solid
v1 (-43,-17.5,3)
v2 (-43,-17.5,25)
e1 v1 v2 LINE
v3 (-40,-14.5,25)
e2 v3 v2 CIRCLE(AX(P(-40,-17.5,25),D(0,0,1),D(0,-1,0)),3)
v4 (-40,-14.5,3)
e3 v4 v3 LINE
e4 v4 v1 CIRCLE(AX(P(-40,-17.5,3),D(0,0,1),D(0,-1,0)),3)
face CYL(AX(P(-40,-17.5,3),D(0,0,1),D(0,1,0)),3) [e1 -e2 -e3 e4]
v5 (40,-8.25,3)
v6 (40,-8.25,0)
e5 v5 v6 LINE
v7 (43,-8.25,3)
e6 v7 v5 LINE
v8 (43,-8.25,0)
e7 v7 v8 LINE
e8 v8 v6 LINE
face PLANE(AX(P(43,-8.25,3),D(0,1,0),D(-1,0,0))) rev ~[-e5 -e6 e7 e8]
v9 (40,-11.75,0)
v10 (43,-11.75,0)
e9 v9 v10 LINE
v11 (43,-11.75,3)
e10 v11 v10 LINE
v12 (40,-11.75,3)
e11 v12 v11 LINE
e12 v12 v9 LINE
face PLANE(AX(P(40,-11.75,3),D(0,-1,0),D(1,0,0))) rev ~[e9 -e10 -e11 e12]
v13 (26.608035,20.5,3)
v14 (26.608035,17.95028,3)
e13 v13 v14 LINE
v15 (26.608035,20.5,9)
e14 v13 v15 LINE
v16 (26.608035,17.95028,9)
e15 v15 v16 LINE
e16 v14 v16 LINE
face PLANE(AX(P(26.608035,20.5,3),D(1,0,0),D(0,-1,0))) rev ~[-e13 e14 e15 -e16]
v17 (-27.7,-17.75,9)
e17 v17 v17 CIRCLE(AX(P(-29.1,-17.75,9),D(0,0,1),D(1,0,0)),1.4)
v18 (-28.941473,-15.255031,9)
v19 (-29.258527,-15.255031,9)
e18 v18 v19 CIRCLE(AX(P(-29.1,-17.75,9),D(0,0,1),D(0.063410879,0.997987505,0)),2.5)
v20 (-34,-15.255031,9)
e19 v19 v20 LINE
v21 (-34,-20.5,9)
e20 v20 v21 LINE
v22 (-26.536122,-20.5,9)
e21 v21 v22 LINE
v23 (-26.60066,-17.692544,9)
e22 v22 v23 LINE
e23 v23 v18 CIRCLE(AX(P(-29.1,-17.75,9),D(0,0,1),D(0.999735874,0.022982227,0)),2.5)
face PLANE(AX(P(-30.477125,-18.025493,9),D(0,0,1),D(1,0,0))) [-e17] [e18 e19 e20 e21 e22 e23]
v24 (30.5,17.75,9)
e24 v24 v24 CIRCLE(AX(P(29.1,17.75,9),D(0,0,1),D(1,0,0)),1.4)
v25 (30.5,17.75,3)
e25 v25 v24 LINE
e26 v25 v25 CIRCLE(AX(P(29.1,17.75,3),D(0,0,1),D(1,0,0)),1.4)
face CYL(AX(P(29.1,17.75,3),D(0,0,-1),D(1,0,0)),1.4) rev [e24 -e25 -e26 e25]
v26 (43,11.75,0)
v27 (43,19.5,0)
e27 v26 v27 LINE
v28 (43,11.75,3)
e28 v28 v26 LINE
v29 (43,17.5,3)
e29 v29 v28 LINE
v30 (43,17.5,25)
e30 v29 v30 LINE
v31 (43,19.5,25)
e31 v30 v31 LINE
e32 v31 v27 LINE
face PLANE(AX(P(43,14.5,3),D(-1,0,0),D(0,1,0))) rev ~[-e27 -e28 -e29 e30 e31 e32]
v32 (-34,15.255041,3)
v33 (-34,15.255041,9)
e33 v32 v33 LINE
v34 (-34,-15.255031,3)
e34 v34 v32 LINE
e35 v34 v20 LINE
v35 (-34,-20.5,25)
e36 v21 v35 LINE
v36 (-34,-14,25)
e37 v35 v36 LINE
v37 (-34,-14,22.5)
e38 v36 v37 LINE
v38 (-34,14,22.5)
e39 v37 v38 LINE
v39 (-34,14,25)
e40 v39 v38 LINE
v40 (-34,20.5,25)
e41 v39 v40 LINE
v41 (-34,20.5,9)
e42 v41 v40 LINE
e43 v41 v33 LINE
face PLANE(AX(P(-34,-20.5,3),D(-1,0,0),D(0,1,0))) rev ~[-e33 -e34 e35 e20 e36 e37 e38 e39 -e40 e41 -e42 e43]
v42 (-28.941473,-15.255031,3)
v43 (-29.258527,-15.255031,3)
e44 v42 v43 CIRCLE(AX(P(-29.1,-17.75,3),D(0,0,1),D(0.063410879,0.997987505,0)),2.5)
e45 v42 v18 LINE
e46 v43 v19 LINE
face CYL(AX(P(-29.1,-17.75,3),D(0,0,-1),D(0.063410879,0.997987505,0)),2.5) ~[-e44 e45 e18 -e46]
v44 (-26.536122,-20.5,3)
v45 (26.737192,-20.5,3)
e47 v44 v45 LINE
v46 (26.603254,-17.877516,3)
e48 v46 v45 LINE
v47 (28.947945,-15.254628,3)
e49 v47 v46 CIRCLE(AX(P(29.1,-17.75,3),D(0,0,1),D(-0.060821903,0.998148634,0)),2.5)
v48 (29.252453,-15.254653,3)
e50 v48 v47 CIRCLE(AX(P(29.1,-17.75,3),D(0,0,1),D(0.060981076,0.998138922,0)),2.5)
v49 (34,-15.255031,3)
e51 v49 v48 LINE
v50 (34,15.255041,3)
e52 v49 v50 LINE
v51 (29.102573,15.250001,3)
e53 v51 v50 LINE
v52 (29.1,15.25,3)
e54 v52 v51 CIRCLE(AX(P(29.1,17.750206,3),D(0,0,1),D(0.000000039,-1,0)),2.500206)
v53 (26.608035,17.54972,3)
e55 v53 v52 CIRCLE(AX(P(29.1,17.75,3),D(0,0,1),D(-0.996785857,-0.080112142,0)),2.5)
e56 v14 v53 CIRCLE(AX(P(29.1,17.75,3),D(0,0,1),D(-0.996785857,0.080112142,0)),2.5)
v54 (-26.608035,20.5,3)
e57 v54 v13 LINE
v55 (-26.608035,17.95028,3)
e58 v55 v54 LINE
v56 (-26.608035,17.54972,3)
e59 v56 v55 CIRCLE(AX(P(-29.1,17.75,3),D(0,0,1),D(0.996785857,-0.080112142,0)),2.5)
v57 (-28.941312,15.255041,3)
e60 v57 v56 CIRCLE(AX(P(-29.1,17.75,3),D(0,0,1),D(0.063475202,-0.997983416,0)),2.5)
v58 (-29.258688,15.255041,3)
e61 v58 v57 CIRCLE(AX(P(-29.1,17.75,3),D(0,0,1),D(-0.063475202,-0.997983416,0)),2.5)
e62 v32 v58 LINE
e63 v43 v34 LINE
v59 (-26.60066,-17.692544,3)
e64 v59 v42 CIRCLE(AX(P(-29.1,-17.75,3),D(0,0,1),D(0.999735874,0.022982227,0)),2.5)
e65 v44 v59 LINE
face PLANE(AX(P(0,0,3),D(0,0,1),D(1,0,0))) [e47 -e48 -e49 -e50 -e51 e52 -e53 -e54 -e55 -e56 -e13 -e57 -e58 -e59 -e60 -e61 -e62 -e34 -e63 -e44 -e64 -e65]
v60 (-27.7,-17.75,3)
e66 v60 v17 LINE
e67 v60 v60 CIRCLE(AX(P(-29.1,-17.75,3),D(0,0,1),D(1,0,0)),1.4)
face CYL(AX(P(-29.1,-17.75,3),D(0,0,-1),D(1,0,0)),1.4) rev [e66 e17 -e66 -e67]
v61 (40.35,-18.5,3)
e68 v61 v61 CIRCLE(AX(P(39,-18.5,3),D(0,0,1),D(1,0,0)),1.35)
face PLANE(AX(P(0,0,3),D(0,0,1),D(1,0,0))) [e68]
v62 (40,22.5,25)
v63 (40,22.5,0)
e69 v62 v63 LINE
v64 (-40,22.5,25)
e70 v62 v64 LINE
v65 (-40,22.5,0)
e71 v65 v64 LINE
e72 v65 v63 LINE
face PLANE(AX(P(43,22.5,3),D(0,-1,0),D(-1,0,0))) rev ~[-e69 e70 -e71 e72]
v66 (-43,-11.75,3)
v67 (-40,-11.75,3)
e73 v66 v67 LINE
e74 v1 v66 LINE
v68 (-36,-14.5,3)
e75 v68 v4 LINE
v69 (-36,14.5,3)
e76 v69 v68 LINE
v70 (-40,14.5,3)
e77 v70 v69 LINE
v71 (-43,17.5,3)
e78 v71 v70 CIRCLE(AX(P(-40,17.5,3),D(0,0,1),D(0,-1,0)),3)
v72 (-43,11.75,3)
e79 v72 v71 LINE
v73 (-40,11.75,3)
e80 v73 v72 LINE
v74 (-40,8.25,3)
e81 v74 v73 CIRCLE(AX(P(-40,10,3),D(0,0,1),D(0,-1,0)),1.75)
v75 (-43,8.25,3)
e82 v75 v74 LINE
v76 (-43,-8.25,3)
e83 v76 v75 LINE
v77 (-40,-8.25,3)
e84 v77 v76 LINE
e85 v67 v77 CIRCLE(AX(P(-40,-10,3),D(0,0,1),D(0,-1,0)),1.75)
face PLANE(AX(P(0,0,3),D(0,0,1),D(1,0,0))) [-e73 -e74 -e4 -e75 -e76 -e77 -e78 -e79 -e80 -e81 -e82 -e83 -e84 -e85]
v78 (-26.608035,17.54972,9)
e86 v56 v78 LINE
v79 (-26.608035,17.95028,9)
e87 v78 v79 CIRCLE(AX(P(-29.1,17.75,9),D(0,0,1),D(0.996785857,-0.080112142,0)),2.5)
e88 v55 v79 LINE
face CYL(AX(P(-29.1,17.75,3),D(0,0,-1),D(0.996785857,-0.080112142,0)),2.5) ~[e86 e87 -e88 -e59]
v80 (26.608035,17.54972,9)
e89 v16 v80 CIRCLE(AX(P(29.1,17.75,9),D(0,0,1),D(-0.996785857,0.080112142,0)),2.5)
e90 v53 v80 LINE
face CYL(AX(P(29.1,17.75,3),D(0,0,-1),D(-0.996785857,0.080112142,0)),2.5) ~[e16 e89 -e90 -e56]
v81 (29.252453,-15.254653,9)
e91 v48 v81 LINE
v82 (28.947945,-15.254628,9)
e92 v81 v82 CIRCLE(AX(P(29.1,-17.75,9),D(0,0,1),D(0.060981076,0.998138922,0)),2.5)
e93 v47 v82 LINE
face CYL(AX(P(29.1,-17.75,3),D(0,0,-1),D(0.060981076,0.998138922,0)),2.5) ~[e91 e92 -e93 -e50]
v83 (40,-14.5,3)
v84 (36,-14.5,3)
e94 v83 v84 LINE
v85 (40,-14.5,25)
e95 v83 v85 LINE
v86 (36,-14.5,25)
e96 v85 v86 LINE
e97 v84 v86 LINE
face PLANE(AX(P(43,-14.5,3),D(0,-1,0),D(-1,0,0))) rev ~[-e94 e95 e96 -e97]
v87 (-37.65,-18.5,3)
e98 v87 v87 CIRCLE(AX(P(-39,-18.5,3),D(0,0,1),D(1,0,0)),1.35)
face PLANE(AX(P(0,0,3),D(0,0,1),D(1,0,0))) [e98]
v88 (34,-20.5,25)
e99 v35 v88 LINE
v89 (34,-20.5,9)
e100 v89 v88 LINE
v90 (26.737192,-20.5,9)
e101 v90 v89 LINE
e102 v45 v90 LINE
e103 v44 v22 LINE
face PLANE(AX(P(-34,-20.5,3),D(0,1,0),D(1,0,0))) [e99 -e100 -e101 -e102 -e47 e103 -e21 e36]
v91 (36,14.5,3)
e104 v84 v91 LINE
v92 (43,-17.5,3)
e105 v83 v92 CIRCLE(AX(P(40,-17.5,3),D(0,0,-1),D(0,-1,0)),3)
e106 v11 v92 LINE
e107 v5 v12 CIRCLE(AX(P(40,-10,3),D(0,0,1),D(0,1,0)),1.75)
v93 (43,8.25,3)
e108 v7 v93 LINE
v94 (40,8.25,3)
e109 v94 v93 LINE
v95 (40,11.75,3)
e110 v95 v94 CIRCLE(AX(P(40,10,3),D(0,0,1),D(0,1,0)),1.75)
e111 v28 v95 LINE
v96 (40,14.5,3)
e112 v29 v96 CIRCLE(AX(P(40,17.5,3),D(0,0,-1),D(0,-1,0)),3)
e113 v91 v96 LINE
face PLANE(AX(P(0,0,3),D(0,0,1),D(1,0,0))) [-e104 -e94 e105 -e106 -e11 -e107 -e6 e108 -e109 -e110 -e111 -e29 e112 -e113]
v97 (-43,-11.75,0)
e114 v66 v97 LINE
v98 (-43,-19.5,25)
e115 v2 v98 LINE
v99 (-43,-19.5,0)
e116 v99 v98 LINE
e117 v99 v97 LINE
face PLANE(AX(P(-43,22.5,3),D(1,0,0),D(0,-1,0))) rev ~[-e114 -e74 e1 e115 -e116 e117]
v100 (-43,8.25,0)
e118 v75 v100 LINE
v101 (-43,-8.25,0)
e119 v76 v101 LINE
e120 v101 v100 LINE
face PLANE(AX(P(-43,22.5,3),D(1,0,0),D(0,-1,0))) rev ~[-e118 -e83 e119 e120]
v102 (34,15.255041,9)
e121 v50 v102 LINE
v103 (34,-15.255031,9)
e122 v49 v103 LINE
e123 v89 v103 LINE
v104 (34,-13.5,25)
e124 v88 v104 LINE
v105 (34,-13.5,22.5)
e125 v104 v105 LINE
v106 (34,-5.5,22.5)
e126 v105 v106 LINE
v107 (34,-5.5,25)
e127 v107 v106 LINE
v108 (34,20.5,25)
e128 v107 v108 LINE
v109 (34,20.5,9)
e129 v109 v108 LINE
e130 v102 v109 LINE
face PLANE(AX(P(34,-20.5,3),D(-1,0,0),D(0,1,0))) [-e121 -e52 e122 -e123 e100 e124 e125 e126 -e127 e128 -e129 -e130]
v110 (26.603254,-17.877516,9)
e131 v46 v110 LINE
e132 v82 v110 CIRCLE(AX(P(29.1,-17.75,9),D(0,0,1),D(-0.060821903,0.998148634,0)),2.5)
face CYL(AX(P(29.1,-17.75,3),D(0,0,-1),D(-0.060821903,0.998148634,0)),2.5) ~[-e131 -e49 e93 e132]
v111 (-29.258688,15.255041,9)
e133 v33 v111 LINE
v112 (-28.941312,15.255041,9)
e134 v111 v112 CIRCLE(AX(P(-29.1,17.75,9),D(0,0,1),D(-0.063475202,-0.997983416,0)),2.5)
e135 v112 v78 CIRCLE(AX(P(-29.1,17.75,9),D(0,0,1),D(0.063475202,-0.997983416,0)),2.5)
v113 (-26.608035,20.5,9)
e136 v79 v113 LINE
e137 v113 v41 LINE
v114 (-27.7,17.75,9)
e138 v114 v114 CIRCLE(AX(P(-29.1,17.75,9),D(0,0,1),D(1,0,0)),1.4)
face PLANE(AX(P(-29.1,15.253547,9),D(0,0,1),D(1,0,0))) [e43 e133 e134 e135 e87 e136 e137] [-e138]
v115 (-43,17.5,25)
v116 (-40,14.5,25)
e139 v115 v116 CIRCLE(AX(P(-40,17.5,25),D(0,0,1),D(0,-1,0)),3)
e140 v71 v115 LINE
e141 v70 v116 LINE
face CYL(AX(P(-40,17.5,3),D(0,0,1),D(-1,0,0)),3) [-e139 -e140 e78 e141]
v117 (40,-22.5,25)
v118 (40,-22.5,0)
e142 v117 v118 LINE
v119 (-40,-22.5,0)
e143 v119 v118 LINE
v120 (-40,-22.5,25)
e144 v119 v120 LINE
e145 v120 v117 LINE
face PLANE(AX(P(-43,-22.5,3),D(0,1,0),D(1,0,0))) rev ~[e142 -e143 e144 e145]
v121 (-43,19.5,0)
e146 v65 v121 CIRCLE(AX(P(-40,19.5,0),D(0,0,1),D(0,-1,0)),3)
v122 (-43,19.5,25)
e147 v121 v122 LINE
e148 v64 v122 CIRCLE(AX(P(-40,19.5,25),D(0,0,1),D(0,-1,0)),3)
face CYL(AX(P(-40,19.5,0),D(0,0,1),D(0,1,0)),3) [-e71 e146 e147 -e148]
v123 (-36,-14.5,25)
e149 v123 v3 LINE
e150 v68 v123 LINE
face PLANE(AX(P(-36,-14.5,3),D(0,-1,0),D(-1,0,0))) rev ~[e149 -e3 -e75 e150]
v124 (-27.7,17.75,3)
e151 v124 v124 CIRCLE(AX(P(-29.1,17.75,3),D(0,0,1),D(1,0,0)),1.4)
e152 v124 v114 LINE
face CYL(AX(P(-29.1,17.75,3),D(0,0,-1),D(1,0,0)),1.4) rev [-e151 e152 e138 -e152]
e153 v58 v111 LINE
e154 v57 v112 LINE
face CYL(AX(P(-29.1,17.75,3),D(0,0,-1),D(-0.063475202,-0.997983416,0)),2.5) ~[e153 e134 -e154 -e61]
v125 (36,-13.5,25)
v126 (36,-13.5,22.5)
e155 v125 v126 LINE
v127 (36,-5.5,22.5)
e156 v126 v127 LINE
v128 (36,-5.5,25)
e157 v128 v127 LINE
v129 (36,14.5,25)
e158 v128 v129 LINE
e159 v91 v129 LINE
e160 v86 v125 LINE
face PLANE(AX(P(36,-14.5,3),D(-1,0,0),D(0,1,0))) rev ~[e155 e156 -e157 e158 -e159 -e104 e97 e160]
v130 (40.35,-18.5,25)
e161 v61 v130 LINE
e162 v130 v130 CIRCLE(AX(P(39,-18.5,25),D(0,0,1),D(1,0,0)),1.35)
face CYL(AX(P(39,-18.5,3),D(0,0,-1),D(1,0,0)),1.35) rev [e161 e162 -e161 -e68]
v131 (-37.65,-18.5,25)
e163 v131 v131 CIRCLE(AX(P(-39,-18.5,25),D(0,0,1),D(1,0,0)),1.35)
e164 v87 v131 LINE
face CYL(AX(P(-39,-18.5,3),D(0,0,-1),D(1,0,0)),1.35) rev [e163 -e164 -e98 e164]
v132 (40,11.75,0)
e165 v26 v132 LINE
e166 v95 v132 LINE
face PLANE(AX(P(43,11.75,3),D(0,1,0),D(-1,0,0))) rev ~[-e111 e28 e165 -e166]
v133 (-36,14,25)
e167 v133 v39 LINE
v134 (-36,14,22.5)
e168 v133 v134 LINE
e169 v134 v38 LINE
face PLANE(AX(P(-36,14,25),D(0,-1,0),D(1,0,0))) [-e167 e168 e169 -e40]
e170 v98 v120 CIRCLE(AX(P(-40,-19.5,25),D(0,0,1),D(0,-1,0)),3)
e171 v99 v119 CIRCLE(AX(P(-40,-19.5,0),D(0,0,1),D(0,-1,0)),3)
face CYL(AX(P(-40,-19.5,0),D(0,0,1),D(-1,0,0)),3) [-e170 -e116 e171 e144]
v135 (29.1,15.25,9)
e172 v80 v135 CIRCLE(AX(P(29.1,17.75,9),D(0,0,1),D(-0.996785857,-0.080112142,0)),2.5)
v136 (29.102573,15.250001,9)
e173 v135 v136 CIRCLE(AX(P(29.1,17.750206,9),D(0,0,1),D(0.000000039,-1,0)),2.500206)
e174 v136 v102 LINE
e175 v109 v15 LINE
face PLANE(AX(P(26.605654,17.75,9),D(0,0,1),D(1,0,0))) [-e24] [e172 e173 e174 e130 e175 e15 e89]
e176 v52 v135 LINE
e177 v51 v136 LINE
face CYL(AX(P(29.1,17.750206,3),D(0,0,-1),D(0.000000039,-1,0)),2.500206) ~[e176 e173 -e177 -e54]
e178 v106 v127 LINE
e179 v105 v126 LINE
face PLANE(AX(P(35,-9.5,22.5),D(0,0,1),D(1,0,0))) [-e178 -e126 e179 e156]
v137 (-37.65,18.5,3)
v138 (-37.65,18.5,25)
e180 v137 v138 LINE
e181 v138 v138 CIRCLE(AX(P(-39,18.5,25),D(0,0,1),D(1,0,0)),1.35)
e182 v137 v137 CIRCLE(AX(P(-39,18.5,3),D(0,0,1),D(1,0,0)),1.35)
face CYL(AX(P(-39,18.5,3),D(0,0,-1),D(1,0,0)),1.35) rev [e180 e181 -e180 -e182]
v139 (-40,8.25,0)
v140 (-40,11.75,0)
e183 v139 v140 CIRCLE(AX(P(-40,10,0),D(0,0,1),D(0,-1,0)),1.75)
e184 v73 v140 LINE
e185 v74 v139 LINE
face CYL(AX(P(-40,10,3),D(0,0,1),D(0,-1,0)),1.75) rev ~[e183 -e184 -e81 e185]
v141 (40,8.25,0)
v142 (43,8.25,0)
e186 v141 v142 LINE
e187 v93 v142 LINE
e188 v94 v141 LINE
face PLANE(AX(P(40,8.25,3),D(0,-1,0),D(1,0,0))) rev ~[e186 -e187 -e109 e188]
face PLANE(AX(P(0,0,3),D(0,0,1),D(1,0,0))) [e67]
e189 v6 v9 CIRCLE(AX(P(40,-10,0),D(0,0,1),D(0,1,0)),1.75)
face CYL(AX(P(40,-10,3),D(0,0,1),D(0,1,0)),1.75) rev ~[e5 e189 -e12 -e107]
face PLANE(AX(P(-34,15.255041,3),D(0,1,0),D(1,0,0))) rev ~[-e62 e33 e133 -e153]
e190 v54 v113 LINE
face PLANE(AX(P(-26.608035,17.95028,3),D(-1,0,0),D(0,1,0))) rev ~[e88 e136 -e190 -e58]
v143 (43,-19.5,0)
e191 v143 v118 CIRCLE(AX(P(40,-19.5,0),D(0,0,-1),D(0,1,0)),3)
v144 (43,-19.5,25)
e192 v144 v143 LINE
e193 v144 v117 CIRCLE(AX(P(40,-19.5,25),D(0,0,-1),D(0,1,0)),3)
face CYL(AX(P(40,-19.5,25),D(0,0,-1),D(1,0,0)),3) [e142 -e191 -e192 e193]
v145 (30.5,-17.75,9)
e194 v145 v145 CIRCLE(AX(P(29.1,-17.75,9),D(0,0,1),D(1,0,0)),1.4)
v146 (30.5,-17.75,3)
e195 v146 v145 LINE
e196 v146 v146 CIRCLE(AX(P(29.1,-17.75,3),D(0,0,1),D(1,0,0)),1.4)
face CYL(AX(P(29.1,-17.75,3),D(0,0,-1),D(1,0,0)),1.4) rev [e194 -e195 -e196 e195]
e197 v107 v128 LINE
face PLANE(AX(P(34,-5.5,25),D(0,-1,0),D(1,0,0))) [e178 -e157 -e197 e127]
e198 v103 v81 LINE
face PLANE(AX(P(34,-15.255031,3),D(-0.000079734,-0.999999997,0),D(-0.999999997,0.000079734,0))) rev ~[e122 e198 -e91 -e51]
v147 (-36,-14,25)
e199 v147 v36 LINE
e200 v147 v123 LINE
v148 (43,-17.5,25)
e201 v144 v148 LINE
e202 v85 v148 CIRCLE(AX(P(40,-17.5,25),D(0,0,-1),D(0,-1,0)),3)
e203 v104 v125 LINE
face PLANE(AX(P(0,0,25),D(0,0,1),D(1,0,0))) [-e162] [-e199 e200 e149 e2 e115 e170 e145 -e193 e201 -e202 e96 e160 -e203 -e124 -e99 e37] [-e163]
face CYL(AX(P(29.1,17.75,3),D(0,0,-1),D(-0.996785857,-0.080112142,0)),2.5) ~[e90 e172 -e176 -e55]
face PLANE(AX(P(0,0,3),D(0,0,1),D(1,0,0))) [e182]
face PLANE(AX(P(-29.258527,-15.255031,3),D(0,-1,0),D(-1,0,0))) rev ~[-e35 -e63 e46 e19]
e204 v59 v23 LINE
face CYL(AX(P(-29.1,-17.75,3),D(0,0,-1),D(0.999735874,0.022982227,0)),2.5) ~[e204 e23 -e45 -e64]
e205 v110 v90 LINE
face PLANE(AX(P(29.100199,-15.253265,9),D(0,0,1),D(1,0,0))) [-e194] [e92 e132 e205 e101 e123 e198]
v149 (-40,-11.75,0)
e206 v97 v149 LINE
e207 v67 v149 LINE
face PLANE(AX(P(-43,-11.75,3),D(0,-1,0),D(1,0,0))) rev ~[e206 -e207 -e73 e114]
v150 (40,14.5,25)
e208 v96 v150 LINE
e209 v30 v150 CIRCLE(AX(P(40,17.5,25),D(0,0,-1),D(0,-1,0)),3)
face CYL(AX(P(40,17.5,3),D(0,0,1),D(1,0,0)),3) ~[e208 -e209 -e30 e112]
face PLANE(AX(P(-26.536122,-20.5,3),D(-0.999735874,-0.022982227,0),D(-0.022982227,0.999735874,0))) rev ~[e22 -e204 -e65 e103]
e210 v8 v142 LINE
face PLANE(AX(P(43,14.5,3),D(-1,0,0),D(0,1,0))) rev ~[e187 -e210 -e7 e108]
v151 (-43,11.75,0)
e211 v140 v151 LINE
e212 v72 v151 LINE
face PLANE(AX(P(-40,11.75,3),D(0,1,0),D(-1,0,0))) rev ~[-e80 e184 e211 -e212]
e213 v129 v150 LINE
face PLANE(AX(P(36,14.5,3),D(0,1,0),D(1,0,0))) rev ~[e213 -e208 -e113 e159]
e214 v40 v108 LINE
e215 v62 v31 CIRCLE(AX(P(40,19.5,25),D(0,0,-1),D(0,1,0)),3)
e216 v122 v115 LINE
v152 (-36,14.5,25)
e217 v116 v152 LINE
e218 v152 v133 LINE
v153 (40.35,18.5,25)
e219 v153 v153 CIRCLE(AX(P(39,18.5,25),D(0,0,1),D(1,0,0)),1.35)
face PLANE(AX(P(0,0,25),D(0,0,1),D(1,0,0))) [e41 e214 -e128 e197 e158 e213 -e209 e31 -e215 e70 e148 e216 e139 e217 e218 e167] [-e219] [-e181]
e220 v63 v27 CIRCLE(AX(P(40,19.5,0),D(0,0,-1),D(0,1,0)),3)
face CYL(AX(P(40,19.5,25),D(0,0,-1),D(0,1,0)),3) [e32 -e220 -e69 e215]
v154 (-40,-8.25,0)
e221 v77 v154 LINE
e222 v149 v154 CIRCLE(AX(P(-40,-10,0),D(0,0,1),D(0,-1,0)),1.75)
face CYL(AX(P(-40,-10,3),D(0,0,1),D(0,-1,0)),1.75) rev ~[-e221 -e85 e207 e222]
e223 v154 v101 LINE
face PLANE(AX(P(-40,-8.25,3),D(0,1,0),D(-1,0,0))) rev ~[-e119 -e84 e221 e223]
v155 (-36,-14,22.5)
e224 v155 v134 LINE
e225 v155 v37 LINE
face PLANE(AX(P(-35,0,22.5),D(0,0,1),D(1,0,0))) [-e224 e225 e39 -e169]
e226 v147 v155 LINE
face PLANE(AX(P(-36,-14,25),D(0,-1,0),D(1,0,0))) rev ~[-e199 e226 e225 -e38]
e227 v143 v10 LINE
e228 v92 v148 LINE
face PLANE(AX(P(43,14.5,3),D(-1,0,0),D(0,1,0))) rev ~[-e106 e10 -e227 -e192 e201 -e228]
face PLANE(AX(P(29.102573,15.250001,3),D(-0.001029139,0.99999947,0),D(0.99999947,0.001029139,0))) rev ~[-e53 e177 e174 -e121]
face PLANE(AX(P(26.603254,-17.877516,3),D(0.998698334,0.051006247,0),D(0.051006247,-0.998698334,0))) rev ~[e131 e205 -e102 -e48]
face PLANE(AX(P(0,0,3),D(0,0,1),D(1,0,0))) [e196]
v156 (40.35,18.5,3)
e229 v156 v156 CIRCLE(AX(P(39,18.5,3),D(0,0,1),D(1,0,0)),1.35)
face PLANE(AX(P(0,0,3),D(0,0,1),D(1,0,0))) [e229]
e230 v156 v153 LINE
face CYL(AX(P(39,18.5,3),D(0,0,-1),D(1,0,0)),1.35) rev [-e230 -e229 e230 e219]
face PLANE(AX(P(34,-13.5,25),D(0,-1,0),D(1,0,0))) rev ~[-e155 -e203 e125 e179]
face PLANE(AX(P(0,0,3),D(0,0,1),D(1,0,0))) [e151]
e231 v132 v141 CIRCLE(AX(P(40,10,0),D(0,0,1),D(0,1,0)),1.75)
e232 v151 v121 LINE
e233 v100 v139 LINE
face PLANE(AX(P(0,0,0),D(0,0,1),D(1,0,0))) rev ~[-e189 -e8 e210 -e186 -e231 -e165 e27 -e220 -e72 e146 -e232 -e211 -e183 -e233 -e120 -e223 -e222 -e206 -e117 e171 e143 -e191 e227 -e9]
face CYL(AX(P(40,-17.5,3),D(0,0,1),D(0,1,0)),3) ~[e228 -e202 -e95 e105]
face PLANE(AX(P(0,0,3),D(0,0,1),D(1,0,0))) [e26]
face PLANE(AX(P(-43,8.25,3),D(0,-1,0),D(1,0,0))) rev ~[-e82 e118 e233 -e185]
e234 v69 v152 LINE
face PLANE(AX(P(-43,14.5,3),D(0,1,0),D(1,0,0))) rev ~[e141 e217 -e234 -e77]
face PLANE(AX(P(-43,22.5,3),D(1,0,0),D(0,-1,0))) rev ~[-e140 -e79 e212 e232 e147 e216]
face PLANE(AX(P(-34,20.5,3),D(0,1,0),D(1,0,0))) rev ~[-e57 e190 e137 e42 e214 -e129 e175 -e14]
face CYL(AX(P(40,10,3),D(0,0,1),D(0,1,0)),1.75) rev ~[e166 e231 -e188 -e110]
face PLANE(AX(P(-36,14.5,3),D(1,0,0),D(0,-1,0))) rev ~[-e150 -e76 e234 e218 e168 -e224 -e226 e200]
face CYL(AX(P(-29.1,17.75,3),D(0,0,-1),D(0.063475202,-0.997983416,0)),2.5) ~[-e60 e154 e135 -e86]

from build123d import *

# Parameters (mm, degrees)
F0_W      = 86
F0_H      = 45
F1_DEPTH  = 3
F2_R      = 1.35
F2_W      = 68
F2_H      = 41
F3_DEPTH  = 22
F4_R      = 1.4
F5_DEPTH  = 6
F7_DEPTH  = 3.001
F8_R      = 3
F9_W      = 2
F9_H      = 28
F9_H_2    = 8
F10_DEPTH = 2.5


with BuildPart() as f1:
    # F0 (on Top) → F1 (new body)
    with BuildSketch(Plane.XY):
        Rectangle(F0_W, F0_H)
    extrude(amount=F1_DEPTH)

    # F2 (on face) → F3 (join)
    with BuildSketch(Plane.XY.offset(3)):
        Polygon((43, 22.5), (-43, 22.5), (-43, 14.5), (-36, 14.5), (-36, -14.5), (-43, -14.5), (-43, -22.5), (43, -22.5), (43, -14.5), (36, -14.5), (36, 14.5), (43, 14.5), align=None)
        with Locations((-39, -18.5)):
            Circle(F2_R, mode=Mode.SUBTRACT)
        with Locations((39, -18.5)):
            Circle(F2_R, mode=Mode.SUBTRACT)
        with Locations((-39, 18.5)):
            Circle(F2_R, mode=Mode.SUBTRACT)
        Rectangle(F2_W, F2_H, mode=Mode.SUBTRACT)
        with Locations((39, 18.5)):
            Circle(F2_R, mode=Mode.SUBTRACT)
    extrude(amount=F3_DEPTH)

    # F4 (on face) → F5 (join)
    with BuildSketch(Plane.XY.offset(3)):
        with BuildLine():
            Line((-28.9413119942, 15.2550414599), (-29.2586880058, 15.2550414599))
            ThreePointArc((-29.2586880058, 15.2550414599), (-29.1, 15.25), (-28.9413119942, 15.2550414599))
        make_face()
        with BuildLine():
            Line((-34, 15.2550414599), (-29.2586880058, 15.2550414599))
            Line((-29.2586880058, 15.2550414599), (-28.9413119942, 15.2550414599))
            ThreePointArc((-28.9413119942, 15.2550414599), (-27.3470376902, 15.9675513639), (-26.6080353575, 17.5497196457))
            Line((-26.6080353575, 17.5497196457), (-26.6080353575, 17.9502803543))
            Line((-26.6080353575, 17.9502803543), (-26.6080353575, 20.5))
            Line((-26.6080353575, 20.5), (-34, 20.5))
            Line((-34, 20.5), (-34, 15.2550414599))
        make_face()
        with Locations((-29.1, 17.75)):
            Circle(F4_R, mode=Mode.SUBTRACT)
        with BuildLine():
            Line((-26.6080353575, 17.9502803543), (-26.6080353575, 17.5497196457))
            ThreePointArc((-26.6080353575, 17.5497196457), (-26.6, 17.75), (-26.6080353575, 17.9502803543))
        make_face()
        with BuildLine():
            Line((-26.5361216883, -20.5), (-26.6006603156, -17.6925444326))
            ThreePointArc((-26.6006603156, -17.6925444326), (-27.2968273142, -16.018362548), (-28.9414728026, -15.2550312371))
            Line((-28.9414728026, -15.2550312371), (-29.2585271974, -15.2550312371))
            Line((-29.2585271974, -15.2550312371), (-34, -15.2550312371))
            Line((-34, -15.2550312371), (-34, -20.5))
            Line((-34, -20.5), (-26.5361216883, -20.5))
        make_face()
        with Locations((-29.1, -17.75)):
            Circle(F4_R, mode=Mode.SUBTRACT)
        with BuildLine():
            Line((-29.2585271974, -15.2550312371), (-28.9414728026, -15.2550312371))
            ThreePointArc((-28.9414728026, -15.2550312371), (-29.1, -15.25), (-29.2585271974, -15.2550312371))
        make_face()
        with BuildLine():
            Line((26.6080353575, 17.5497196457), (26.6080353575, 17.9502803543))
            ThreePointArc((26.6080353575, 17.9502803543), (26.6, 17.75), (26.6080353575, 17.5497196457))
        make_face()
        with BuildLine():
            Line((26.6080353575, 20.5), (26.6080353575, 17.9502803543))
            Line((26.6080353575, 17.9502803543), (26.6080353575, 17.5497196457))
            ThreePointArc((26.6080353575, 17.5497196457), (27.4045208473, 15.9127873169), (29.1, 15.25))
            ThreePointArc((29.1, 15.25), (29.1012864239, 15.250000331), (29.1025728475, 15.2500013239))
            Line((29.1025728475, 15.2500013239), (34, 15.2550414599))
            Line((34, 15.2550414599), (34, 20.5))
            Line((34, 20.5), (26.6080353575, 20.5))
        make_face()
        with Locations((29.1, 17.75)):
            Circle(F4_R, mode=Mode.SUBTRACT)
        with BuildLine():
            Line((28.9479452437, -15.2546284142), (29.2524526886, -15.254652694))
            ThreePointArc((29.2524526886, -15.254652694), (29.1001993362, -15.2500000079), (28.9479452437, -15.2546284142))
        make_face()
        with BuildLine():
            Line((34, -15.2550312371), (29.2524526886, -15.254652694))
            Line((29.2524526886, -15.254652694), (28.9479452437, -15.2546284142))
            ThreePointArc((28.9479452437, -15.2546284142), (27.236154388, -16.0838428842), (26.6032541645, -17.8775156186))
            Line((26.6032541645, -17.8775156186), (26.7371915935, -20.5))
            Line((26.7371915935, -20.5), (34, -20.5))
            Line((34, -20.5), (34, -15.2550312371))
        make_face()
        with Locations((29.1, -17.75)):
            Circle(F4_R, mode=Mode.SUBTRACT)
    extrude(amount=F5_DEPTH)

    # F6 (on face) → F7 (cut, through all)
    with BuildSketch(Plane.XY.offset(3)):
        with BuildLine():
            Line((-43, 8.25), (-40, 8.25))
            ThreePointArc((-40, 8.25), (-38.25, 10), (-40, 11.75))
            Line((-40, 11.75), (-43, 11.75))
            Line((-43, 11.75), (-43, 8.25))
        make_face()
        with BuildLine():
            Line((-43, -11.75), (-40, -11.75))
            ThreePointArc((-40, -11.75), (-38.25, -10), (-40, -8.25))
            Line((-40, -8.25), (-43, -8.25))
            Line((-43, -8.25), (-43, -11.75))
        make_face()
        with BuildLine():
            ThreePointArc((40, 11.75), (38.25, 10), (40, 8.25))
            Line((40, 8.25), (43, 8.25))
            Line((43, 8.25), (43, 11.75))
            Line((43, 11.75), (40, 11.75))
        make_face()
        with BuildLine():
            ThreePointArc((40, -8.25), (38.25, -10), (40, -11.75))
            Line((40, -11.75), (43, -11.75))
            Line((43, -11.75), (43, -8.25))
            Line((43, -8.25), (40, -8.25))
        make_face()
    extrude(amount=-F7_DEPTH, mode=Mode.SUBTRACT)

    # F8
    f8_edges = [f1.edges().sort_by_distance(p)[0] for p in [
        (-43, -22.5, 12.5),
        (-43, 14.5, 14),
        (-43, 22.5, 12.5),
        (-43, -14.5, 14),
        (43, -22.5, 12.5),
        (43, -14.5, 14),
        (43, 14.5, 14),
        (43, 22.5, 12.5),
    ]]
    fillet(f8_edges, radius=F8_R)

    # F9 (on face) → F10 (cut)
    with BuildSketch(Plane.XY.offset(25)):
        with Locations((-35, 0)):
            Rectangle(F9_W, F9_H)
        with Locations((35, -9.5)):
            Rectangle(F9_W, F9_H_2)
    extrude(amount=-F10_DEPTH, mode=Mode.SUBTRACT)


solid = f1.part
